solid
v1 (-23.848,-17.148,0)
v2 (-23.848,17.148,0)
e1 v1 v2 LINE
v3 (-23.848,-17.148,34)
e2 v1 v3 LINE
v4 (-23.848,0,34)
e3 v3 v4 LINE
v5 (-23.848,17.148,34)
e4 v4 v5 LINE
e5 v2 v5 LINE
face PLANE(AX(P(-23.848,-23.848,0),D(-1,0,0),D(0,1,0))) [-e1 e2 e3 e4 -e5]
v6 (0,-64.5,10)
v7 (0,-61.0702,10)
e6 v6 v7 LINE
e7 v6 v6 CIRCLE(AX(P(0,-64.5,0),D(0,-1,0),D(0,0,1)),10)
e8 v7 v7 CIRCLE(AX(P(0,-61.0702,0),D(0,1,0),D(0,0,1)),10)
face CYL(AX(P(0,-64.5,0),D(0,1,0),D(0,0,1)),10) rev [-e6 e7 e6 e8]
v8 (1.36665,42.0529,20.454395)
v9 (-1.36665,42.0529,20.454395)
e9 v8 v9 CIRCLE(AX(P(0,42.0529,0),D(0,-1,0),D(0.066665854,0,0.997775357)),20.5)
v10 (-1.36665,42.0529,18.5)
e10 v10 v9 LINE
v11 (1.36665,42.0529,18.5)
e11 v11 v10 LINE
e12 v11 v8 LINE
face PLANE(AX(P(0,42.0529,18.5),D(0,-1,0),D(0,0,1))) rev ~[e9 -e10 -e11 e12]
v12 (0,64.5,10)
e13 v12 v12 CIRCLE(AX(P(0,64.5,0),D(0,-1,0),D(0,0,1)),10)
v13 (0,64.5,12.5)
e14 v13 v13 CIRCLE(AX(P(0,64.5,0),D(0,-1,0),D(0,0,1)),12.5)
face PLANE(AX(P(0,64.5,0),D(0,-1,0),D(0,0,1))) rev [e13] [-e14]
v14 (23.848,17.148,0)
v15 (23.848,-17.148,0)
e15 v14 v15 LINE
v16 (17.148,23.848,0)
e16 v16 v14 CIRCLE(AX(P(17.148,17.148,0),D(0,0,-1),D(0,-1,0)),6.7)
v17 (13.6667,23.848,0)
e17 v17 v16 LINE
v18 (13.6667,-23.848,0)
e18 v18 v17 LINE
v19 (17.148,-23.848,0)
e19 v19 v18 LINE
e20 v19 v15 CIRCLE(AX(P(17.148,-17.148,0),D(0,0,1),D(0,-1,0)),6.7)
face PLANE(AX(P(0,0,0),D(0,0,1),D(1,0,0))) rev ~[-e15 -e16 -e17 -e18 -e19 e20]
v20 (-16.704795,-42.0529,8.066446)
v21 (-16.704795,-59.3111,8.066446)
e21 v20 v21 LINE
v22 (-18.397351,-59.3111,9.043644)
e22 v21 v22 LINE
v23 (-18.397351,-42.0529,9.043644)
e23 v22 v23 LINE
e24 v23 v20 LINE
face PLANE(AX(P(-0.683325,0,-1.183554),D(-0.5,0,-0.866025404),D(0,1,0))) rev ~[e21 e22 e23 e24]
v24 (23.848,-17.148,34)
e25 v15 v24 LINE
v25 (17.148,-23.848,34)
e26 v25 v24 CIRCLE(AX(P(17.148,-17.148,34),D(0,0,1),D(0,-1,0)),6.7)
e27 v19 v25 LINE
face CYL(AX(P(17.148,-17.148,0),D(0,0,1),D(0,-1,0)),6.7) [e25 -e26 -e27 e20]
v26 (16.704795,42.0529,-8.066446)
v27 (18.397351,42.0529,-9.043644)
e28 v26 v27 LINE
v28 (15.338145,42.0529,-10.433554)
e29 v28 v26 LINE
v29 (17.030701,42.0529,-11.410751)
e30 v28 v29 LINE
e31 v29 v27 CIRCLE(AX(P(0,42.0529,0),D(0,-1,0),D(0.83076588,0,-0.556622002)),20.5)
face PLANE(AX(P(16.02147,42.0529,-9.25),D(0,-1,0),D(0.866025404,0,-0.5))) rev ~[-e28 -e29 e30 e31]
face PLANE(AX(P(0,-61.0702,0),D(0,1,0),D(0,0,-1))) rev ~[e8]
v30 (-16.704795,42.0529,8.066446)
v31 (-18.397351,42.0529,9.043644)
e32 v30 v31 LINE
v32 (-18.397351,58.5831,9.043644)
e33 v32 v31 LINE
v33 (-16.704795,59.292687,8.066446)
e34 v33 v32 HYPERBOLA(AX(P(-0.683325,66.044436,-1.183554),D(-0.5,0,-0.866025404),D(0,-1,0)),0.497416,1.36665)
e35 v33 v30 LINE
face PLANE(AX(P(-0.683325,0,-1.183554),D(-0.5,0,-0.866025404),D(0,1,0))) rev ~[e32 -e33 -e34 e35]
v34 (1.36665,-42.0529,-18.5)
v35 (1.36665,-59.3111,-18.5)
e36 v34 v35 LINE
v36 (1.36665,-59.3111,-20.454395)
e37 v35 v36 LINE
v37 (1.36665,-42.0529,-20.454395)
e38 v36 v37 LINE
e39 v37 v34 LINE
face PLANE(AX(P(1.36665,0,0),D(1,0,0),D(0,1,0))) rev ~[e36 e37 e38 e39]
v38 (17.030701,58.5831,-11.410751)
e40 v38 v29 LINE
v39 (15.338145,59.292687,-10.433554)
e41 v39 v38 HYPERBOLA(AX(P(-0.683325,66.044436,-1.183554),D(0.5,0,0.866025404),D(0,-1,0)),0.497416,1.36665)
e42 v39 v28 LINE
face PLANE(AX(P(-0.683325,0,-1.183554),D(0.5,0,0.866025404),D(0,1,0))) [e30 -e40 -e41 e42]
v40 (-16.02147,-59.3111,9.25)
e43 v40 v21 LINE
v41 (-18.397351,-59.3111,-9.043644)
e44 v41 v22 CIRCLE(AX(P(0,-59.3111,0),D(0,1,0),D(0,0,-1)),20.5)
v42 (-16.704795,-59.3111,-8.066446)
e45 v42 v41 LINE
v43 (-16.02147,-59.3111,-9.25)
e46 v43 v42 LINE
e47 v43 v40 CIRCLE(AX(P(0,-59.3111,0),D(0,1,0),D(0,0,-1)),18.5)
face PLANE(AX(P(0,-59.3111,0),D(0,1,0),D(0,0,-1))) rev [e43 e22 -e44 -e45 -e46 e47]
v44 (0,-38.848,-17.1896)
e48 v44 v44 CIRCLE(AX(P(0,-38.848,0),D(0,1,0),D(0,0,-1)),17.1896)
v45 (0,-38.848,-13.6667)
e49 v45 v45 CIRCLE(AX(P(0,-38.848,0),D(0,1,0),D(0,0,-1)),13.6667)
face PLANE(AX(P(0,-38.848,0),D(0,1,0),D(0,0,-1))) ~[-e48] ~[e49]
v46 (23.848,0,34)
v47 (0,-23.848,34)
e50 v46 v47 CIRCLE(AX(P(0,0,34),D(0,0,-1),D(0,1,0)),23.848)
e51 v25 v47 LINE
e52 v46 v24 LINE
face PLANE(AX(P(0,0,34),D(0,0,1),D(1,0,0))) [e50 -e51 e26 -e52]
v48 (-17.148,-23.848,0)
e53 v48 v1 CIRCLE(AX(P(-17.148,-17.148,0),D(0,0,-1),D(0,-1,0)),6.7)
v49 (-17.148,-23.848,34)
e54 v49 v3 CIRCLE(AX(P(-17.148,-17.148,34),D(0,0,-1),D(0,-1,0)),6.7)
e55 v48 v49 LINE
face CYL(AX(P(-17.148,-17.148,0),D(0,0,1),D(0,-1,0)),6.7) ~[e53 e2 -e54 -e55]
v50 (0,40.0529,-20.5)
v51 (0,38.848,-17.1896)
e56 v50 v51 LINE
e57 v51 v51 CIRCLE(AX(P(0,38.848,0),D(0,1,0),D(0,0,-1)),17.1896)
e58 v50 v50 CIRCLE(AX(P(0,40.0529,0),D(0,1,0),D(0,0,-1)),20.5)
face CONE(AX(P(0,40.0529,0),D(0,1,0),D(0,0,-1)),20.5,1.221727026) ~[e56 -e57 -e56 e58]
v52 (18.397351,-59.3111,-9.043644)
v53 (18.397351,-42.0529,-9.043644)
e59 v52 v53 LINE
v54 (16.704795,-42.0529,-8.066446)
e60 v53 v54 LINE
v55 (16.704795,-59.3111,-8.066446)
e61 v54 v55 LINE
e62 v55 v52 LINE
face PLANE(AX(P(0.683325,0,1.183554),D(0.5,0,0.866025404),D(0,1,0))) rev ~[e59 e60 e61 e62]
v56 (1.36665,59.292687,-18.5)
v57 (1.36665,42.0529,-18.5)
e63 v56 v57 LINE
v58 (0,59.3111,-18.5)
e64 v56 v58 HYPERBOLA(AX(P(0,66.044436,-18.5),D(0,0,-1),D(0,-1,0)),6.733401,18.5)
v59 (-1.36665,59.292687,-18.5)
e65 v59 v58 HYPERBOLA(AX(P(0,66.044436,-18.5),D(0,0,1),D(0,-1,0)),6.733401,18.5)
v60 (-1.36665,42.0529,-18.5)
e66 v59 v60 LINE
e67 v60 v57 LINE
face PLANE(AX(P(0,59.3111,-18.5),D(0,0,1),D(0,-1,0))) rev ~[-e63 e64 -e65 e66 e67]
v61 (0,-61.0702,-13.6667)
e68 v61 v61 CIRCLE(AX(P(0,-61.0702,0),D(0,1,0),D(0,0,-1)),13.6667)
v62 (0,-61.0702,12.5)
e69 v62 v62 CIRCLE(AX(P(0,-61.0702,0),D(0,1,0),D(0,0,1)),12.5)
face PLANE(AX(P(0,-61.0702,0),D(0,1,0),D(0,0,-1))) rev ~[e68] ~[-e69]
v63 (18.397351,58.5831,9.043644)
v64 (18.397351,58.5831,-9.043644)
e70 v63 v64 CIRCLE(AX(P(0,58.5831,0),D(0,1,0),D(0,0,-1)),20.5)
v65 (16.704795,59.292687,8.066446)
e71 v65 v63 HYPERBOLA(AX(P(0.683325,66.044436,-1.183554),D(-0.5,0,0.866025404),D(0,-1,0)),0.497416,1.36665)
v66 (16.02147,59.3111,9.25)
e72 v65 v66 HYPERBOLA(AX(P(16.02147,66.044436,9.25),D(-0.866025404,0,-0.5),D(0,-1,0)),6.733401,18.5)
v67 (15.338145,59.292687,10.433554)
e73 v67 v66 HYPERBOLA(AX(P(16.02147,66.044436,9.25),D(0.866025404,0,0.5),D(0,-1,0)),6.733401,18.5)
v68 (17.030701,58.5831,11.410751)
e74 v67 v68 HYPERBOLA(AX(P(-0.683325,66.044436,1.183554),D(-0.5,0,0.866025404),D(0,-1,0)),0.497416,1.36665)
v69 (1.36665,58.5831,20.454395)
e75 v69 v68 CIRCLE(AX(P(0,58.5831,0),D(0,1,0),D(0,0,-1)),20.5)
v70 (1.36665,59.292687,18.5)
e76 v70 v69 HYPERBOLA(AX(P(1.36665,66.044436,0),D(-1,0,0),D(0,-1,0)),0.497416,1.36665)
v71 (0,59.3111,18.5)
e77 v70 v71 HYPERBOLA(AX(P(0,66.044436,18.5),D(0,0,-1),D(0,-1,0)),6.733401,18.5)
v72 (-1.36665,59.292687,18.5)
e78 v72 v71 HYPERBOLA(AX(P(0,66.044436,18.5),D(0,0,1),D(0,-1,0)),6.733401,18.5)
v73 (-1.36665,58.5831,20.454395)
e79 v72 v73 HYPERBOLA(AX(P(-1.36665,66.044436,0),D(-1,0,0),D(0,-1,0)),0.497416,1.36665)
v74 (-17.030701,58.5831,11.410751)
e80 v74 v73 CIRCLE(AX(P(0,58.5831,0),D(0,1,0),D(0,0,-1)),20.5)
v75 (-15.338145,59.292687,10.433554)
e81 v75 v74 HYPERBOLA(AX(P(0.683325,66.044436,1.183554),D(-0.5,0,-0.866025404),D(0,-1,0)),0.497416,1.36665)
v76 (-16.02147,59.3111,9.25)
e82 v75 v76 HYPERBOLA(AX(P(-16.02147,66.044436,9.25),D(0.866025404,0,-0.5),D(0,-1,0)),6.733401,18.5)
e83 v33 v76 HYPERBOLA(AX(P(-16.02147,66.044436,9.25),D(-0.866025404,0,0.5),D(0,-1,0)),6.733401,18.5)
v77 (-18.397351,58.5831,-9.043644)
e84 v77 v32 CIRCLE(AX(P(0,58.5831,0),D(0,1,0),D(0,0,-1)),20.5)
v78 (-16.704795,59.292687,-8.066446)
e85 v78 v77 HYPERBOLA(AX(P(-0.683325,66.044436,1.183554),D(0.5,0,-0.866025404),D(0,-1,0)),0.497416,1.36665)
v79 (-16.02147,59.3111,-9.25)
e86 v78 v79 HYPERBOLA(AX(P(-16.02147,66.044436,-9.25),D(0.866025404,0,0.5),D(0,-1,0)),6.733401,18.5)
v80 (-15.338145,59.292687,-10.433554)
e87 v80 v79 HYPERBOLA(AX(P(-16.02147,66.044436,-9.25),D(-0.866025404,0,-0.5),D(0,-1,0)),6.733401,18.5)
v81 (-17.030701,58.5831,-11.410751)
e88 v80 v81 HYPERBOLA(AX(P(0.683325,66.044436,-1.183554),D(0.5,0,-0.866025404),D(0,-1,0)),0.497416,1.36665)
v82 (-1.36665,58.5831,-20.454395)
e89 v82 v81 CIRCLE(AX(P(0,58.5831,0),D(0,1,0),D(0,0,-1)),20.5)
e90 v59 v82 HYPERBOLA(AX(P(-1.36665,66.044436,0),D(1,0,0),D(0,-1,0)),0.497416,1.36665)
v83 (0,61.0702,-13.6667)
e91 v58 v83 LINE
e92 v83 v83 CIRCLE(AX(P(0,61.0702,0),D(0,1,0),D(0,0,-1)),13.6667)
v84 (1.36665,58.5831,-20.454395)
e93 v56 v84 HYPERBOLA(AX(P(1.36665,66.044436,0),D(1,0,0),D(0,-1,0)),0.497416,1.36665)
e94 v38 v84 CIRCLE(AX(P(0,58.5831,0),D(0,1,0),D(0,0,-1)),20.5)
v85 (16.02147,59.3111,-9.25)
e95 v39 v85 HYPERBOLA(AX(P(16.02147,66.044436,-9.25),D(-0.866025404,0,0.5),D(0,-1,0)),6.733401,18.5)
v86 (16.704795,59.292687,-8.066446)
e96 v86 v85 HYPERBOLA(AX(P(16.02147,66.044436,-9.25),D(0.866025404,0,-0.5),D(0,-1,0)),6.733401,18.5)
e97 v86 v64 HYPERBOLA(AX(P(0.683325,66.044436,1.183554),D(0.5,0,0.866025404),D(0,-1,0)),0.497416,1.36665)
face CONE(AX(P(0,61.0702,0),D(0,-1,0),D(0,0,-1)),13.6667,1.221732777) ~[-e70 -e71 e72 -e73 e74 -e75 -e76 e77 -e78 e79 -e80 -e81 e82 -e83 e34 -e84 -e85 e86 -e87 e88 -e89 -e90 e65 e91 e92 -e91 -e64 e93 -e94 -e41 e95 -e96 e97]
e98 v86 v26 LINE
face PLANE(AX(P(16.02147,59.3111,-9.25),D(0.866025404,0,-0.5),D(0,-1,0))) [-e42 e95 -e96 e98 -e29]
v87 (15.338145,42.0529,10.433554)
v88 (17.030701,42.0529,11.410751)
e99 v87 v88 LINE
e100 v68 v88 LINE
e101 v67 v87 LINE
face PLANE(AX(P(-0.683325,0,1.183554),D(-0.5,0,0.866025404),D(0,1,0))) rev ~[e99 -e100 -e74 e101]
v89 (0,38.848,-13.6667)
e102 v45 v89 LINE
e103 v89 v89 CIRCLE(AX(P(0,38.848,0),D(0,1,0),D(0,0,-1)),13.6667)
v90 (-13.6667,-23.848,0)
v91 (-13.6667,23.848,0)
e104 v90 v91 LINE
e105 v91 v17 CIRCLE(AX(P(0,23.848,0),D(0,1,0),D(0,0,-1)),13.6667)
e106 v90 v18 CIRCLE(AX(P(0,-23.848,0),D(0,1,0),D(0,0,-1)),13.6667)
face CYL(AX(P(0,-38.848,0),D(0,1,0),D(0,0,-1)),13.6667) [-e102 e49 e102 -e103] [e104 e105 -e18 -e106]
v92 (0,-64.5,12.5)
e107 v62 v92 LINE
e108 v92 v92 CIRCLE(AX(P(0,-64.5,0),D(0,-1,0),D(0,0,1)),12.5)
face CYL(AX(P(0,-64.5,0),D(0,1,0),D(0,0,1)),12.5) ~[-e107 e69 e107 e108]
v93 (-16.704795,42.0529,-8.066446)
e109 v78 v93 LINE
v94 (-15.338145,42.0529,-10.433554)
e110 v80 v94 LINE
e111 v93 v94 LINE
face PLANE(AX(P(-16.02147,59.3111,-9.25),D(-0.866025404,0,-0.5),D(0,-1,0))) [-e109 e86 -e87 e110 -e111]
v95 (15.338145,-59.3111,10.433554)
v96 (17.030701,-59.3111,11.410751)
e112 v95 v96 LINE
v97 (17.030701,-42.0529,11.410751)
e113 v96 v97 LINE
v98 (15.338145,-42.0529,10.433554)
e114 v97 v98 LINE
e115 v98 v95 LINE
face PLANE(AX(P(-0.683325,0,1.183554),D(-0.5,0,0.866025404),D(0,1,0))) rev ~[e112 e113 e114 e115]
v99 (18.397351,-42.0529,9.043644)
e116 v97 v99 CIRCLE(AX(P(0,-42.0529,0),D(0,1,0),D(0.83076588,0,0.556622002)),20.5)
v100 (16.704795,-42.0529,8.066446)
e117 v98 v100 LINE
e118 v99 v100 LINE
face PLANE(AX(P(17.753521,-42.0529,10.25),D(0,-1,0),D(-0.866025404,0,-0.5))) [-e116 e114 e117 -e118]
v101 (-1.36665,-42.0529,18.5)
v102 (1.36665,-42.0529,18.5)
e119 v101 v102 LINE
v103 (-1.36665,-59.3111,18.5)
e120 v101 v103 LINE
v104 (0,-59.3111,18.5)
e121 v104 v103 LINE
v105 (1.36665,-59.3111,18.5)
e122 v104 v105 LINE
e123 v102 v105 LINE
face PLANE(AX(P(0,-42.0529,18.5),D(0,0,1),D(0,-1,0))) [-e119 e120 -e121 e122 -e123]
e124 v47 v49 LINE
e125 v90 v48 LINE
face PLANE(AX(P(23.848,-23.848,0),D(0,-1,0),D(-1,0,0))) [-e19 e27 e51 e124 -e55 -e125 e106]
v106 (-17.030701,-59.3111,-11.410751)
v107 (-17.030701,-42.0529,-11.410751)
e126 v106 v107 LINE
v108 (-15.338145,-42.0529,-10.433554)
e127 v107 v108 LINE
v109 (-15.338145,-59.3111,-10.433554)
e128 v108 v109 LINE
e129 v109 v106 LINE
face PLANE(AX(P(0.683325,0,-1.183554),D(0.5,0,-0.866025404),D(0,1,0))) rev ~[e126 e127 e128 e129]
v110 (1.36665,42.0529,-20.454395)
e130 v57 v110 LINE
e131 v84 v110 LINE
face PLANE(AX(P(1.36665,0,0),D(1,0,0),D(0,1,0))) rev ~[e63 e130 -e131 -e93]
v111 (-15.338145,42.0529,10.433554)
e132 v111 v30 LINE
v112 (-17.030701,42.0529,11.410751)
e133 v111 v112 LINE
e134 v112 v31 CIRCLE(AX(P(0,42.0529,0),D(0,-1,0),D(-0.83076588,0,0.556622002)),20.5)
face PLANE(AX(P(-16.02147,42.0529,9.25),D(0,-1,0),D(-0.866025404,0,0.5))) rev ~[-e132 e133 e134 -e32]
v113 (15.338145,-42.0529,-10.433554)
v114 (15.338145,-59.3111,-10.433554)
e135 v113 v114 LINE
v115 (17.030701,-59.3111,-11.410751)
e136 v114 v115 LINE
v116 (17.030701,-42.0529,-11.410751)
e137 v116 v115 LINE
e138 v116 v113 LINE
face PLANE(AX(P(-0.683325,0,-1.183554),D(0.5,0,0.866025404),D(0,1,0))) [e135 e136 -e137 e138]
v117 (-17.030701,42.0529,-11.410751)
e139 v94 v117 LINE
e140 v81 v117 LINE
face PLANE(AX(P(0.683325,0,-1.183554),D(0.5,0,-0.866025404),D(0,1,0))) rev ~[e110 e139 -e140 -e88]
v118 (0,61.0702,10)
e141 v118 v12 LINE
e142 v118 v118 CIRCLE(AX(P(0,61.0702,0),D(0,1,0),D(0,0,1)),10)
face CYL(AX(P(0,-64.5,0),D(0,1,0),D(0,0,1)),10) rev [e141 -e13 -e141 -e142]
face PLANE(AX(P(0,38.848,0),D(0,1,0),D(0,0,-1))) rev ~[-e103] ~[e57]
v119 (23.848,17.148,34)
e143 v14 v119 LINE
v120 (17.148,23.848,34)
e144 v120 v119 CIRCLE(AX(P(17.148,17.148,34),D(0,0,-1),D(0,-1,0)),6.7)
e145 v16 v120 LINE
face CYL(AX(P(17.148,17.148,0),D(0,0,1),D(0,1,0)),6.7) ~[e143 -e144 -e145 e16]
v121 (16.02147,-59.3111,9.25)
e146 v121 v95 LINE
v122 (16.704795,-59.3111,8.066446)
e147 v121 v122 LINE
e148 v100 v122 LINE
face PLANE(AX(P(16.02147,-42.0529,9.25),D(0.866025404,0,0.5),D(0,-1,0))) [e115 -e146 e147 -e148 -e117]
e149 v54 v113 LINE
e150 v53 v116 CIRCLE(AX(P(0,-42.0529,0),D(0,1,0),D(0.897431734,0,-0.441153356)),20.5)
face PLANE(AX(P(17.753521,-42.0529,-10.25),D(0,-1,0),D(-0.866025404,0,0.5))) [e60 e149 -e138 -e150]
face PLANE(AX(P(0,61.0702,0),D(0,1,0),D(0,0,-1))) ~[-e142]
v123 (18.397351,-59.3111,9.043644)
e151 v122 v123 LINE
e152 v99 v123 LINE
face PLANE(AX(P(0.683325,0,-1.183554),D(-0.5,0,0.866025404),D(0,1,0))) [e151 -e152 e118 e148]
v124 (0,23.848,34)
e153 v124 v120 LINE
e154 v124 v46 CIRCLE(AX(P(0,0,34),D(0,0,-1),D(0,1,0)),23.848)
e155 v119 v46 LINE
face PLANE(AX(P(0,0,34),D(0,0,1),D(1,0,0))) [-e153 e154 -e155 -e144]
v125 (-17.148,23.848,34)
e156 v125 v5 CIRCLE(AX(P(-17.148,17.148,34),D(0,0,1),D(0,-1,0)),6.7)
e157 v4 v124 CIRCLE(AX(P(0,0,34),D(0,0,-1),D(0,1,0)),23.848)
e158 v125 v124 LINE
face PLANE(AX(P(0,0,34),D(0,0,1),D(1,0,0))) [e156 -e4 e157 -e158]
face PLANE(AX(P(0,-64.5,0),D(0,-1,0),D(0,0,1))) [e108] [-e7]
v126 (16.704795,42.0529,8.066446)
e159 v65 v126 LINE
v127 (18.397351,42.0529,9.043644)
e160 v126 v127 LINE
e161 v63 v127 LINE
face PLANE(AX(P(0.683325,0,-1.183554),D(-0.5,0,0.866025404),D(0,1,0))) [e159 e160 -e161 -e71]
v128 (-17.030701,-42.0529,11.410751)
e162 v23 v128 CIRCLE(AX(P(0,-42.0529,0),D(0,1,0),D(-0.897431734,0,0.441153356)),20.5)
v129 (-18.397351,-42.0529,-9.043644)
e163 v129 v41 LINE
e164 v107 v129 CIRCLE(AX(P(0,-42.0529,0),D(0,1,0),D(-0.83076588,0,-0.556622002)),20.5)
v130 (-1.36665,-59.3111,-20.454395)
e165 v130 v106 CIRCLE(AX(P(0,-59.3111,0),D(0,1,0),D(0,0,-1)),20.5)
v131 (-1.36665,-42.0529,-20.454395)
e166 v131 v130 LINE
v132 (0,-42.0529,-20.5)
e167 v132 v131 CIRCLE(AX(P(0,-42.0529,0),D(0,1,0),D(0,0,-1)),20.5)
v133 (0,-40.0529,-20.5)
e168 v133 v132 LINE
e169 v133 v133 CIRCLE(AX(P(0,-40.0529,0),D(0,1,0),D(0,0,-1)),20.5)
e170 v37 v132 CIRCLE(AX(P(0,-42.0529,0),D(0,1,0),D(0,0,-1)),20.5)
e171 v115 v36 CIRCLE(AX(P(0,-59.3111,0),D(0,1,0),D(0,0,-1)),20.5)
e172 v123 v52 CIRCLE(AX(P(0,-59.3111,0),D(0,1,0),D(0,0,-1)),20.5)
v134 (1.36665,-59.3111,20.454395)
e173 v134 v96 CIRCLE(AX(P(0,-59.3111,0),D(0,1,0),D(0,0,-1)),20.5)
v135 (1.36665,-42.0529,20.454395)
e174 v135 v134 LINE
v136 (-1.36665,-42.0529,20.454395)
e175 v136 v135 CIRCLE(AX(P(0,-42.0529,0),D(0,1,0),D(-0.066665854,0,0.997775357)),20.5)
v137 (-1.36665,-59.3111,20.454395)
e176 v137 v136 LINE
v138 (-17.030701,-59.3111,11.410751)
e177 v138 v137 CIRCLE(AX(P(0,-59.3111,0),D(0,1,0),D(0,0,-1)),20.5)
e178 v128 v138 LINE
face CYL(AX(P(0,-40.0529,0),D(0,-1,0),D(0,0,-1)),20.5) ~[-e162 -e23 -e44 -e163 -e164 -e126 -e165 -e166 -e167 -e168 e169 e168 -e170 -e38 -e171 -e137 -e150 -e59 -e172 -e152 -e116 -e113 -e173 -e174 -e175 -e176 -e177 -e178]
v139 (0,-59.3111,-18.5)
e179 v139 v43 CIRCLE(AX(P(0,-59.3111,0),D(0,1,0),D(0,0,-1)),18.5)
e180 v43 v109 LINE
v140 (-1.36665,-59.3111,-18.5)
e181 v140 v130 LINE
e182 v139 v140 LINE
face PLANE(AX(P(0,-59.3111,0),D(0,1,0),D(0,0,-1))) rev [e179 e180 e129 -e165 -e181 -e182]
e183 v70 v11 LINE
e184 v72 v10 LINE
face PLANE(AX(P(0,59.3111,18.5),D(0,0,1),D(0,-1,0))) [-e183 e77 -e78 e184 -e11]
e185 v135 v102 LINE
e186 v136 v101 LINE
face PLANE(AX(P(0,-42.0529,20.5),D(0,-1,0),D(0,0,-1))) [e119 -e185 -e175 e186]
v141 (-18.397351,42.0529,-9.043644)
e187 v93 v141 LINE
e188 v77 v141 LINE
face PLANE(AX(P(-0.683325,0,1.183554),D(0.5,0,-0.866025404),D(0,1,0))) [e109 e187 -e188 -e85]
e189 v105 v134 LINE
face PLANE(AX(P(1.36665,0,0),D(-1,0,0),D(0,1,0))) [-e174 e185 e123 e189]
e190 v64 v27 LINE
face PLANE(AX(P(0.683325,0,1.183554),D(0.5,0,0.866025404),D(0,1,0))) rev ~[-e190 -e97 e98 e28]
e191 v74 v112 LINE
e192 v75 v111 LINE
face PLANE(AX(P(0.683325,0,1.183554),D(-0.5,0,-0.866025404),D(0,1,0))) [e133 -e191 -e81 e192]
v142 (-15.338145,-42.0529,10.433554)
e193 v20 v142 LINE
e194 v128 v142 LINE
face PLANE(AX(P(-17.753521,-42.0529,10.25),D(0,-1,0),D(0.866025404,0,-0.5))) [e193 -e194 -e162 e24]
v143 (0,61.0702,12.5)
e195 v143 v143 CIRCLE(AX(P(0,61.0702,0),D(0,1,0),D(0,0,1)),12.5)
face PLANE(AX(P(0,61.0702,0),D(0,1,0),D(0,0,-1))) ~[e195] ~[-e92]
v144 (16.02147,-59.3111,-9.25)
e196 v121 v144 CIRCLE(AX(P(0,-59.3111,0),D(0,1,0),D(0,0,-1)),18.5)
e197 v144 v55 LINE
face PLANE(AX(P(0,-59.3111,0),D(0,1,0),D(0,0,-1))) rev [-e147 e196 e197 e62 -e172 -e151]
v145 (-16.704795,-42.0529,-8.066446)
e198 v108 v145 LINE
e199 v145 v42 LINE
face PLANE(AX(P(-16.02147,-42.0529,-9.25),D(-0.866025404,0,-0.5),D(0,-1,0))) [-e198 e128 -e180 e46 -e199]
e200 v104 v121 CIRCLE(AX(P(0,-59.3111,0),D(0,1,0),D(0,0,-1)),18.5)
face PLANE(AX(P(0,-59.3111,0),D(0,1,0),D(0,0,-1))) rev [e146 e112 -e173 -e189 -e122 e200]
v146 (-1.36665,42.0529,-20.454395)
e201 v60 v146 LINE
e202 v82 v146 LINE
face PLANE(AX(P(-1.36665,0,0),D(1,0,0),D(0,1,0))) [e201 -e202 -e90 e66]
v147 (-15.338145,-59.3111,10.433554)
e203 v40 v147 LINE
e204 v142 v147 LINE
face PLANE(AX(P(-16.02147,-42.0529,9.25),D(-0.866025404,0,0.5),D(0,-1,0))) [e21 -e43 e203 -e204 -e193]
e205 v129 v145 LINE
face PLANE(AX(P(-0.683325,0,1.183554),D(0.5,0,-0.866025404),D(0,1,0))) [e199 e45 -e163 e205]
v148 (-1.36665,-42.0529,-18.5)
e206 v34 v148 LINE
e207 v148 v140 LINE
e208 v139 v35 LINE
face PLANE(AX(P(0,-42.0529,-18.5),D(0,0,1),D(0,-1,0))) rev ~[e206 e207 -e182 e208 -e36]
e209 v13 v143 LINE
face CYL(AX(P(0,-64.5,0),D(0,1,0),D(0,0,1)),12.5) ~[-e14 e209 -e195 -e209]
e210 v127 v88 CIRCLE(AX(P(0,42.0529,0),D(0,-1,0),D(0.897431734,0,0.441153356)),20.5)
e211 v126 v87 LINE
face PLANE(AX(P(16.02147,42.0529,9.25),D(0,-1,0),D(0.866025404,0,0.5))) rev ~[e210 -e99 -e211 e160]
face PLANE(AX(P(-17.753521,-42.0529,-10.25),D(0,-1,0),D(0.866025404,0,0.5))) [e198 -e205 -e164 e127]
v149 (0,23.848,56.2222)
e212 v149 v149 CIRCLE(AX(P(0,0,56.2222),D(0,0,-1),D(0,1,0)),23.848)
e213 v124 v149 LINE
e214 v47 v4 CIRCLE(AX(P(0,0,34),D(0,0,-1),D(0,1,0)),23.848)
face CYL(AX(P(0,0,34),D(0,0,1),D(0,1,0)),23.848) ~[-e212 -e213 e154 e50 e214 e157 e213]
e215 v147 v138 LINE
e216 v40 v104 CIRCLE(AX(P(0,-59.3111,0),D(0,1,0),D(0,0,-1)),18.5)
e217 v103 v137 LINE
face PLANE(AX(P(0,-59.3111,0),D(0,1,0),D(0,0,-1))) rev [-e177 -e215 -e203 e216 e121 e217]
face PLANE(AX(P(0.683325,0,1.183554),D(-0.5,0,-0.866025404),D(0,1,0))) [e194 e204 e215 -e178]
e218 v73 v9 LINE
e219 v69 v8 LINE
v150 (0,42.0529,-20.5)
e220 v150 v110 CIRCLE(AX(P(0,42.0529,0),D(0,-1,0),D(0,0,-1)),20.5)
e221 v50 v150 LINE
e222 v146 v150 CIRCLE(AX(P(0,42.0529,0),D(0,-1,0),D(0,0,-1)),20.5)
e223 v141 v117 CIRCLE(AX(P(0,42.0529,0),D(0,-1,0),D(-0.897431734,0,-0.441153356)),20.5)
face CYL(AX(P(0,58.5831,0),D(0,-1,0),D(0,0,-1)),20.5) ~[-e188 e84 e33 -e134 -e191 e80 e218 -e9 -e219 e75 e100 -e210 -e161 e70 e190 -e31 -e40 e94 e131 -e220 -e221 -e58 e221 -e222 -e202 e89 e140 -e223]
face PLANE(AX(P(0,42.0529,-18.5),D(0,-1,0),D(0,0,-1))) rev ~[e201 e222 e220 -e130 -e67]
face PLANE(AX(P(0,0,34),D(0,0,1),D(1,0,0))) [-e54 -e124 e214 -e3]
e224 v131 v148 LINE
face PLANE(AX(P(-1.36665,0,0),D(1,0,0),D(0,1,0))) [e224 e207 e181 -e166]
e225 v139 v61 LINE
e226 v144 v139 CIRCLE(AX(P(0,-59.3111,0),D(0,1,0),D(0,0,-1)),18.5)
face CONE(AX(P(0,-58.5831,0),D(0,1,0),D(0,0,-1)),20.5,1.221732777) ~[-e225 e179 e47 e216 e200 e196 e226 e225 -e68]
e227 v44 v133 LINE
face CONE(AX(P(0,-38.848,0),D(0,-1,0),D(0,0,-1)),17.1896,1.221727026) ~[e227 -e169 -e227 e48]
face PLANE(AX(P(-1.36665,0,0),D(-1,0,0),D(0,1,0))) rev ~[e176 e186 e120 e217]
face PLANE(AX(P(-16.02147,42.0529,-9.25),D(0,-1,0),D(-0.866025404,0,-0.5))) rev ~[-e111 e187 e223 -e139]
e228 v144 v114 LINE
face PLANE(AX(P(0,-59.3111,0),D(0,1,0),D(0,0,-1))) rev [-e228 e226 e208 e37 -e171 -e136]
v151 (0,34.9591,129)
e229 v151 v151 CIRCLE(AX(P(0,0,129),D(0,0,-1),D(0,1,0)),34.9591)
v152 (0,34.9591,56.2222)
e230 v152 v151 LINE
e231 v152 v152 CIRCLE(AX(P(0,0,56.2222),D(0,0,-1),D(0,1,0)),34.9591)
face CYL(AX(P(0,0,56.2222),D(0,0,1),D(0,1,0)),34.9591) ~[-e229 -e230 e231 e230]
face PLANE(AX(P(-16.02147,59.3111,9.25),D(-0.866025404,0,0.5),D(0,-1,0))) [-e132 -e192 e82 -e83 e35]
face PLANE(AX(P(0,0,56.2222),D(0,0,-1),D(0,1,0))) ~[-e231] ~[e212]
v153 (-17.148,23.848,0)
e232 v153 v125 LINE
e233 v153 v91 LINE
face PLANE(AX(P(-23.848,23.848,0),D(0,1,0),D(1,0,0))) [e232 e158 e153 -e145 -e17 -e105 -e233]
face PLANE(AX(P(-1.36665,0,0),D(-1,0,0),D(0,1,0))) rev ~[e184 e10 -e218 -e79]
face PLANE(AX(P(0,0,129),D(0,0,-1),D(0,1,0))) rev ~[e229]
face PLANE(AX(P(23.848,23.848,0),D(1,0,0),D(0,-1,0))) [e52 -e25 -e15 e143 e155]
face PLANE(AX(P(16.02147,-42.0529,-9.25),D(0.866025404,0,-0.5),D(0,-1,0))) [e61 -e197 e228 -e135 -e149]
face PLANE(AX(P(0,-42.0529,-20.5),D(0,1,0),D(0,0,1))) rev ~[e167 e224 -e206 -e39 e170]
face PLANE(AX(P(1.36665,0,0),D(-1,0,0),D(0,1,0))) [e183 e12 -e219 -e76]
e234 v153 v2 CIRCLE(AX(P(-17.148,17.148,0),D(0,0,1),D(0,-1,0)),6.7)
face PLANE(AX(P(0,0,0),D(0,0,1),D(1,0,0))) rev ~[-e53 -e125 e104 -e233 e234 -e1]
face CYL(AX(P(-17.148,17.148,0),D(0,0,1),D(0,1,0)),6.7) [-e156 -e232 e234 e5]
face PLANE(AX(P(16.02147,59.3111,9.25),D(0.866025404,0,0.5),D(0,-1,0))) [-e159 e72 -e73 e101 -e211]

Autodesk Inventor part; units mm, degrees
ref_plane "YZ Plane" through (0, 0, 0) normal (1, 0, 0) x (0, 1, 0)
ref_plane "XZ Plane" through (0, 0, 0) normal (0, 1, 0) x (-1, 0, 0)
ref_plane "XY Plane" through (0, 0, 0) normal (0, 0, 1) x (1, 0, 0)
sketch "Sketch_1" plane through (0, 0, 0) normal (1, 0, 0) x (0, 1, 0)
  line L0 (61.0702, 0) -> (61.0702, -13.6667)
  line L1 (61.0702, -13.6667) -> (58.5831, -20.5)
  line L2 (58.5831, -20.5) -> (40.0529, -20.5)
  line L3 (40.0529, -20.5) -> (38.848, -17.1896)
  line L4 (38.848, -17.1896) -> (38.848, -13.6667)
  line L5 (-38.848, -13.6667) -> (-38.848, -17.1896)
  line L6 (-38.848, -17.1896) -> (-40.0529, -20.5)
  line L7 (-40.0529, -20.5) -> (-58.5831, -20.5)
  line L8 (-58.5831, -20.5) -> (-61.0702, -13.6667)
  line L9 (-61.0702, -13.6667) -> (-61.0702, 0)
  line L10 (-61.0702, 0) -> (61.0702, 0)
  line L11 (-40.0529, -20.5) -> (0, -20.5) construction
  line L12 (0, -20.5) -> (0, -30.1874) construction
  line L13 (-59.3111, -20.5) -> (-42.0529, -20.5)
  line L14 (-42.0529, -20.5) -> (-42.0529, -18.5)
  line L15 (-42.0529, -18.5) -> (-59.3111, -18.5)
  line L16 (-59.3111, -18.5) -> (-59.3111, -20.5)
  line L17 (42.0529, -20.5) -> (59.3111, -20.5)
  line L18 (59.3111, -20.5) -> (59.3111, -18.5)
  line L19 (59.3111, -18.5) -> (42.0529, -18.5)
  line L20 (42.0529, -18.5) -> (42.0529, -20.5)
  line L21 (-38.848, -13.6667) -> (38.848, -13.6667)
  point P0 (0, 0)
  point P1 (0, 0)
  point P2 (-49.318, -20.5)
  point P3 (50.682, -20.5)
  point P4 (0, 0)
  dimension "dimE" = 41
  dimension "d22" = 20.5
  dimension "d23" = 6.8333
  dimension "d24" = 20
  dimension "d27" = 22.2222
  dimension "d28" = 22.2222
  dimension "d52" = 20
  dimension "d53" = 2
  dimension "d54" = 2
  dimension "d55" = 2
  dimension "dimZ" = 100
revolve "Revolution1" add sketch "Sketch_1" angle 360 about axis through (0, -61.0702, 0) along (0, 1, 0) contours L0 L1 L19 L20 L2 L3 L4 L21 L5 L6 L7 L14 L15 L8 L9 L10 | L1 L2 L20 L19 | L15 L14 L7 L8 | L8 L13 L16
sketch "Sketch11" plane through (0, 0, 0) normal (0, 0, 1) x (1, 0, 0)
  line L0 (-23.848, 23.848) -> (23.848, 23.848)
  line L1 (23.848, 23.848) -> (23.848, -23.848)
  line L2 (23.848, -23.848) -> (-23.848, -23.848)
  line L3 (-23.848, -23.848) -> (-23.848, 23.848)
  line L4 (23.848, -23.848) -> (-23.848, 23.848)
  line L5 (17.1896, 38.848) -> (-17.1896, 38.848) projected
  point P0 (0, 0)
  point P1 (0, 0)
  point P2 (0, 0)
  dimension "d71" = 15
extrude "Extrusion6" add sketch "Sketch11" along normal blind 34
sketch "Sketch_2" plane through (0, 0, 0) normal (1, 0, 0) x (0, 1, 0)
  line L0 (0, 34) -> (23.848, 34)
  line L1 (23.848, 34) -> (23.848, 56.2222)
  line L2 (23.848, 56.2222) -> (0, 56.2222)
  line L3 (0, 56.2222) -> (0, 34)
  line L4 (0, 56.2222) -> (34.9591, 56.2222)
  line L5 (34.9591, 56.2222) -> (34.9591, 129)
  line L6 (34.9591, 129) -> (0, 129)
  line L7 (0, 129) -> (0, 56.2222)
  line L8 (-33.3229, 0) -> (54.4515, 0)
  line L9 (-90.3, 0) -> (90.3, 0) projected
  line L10 (0, -319.9275) -> (0, 424.6014) projected
  point P0 (10.5643, 0)
  dimension "d67" = 22.2222
  dimension "d68" = 129
  dimension "d70" = 11.1111
revolve "Revolution2" add sketch "Sketch_2" angle 360 about axis through (0, 0, 129) along (0, 0, -1)
fillet "Fillet1" radius 6.7 4 edges at (-23.848, 23.848, 17) (-23.848, -23.848, 17) (23.848, -23.848, 17) (23.848, 23.848, 17)
sketch "Sketch_7" plane through (0, 0, 0) normal (1, 0, 0) x (0, 1, 0)
  line L0 (-64.5, 12.5) -> (64.5, 12.5)
  line L1 (48.5126, 0) -> (-48.5126, 0)
  line L2 (-64.5, 12.5) -> (-64.5, 10)
  line L3 (-64.5, 10) -> (64.5, 10)
  line L4 (64.5, 10) -> (64.5, 12.5)
  line L5 (0, 0.4963) -> (0, 17.9963)
  point P0 (0, 0)
  point P1 (0, 0)
  point P2 (0, 10)
  point P3 (0, 0)
  dimension "dimH" = 129
  dimension "dimD" = 20
  dimension "dimD2" = 25
revolve "Revolution3" add sketch "Sketch_7" angle 360 about axis through (0, 48.5126, 0) along (0, -1, 0)
extrude "Extrusion8" cut sketch "Sketch_1" along normal mid plane 2.7333 contours L18 L17 L1 | L1 L2 L20 L19 | L15 L14 L7 L8 | L8 L13 L16
pattern_circular "Circular Pattern1" count 6 over 360 about axis through (0, 32.25, 0) along (0, -1, 0) of "Extrusion8"
equation "\"d23\" = 0.333333 * d22"
equation "\"d27\" = 0.222222 * dimZ"
equation "\"d28\" = d27"
equation "\"d35\" = 0.1 * dimC"
equation "\"d47\" = 0.0666667 * dimE"
equation "\"dimC\" = 67"
properties part number "DIAPHRAGM VALVE PNEUMATIC GLUED DN15" material "PVC"
